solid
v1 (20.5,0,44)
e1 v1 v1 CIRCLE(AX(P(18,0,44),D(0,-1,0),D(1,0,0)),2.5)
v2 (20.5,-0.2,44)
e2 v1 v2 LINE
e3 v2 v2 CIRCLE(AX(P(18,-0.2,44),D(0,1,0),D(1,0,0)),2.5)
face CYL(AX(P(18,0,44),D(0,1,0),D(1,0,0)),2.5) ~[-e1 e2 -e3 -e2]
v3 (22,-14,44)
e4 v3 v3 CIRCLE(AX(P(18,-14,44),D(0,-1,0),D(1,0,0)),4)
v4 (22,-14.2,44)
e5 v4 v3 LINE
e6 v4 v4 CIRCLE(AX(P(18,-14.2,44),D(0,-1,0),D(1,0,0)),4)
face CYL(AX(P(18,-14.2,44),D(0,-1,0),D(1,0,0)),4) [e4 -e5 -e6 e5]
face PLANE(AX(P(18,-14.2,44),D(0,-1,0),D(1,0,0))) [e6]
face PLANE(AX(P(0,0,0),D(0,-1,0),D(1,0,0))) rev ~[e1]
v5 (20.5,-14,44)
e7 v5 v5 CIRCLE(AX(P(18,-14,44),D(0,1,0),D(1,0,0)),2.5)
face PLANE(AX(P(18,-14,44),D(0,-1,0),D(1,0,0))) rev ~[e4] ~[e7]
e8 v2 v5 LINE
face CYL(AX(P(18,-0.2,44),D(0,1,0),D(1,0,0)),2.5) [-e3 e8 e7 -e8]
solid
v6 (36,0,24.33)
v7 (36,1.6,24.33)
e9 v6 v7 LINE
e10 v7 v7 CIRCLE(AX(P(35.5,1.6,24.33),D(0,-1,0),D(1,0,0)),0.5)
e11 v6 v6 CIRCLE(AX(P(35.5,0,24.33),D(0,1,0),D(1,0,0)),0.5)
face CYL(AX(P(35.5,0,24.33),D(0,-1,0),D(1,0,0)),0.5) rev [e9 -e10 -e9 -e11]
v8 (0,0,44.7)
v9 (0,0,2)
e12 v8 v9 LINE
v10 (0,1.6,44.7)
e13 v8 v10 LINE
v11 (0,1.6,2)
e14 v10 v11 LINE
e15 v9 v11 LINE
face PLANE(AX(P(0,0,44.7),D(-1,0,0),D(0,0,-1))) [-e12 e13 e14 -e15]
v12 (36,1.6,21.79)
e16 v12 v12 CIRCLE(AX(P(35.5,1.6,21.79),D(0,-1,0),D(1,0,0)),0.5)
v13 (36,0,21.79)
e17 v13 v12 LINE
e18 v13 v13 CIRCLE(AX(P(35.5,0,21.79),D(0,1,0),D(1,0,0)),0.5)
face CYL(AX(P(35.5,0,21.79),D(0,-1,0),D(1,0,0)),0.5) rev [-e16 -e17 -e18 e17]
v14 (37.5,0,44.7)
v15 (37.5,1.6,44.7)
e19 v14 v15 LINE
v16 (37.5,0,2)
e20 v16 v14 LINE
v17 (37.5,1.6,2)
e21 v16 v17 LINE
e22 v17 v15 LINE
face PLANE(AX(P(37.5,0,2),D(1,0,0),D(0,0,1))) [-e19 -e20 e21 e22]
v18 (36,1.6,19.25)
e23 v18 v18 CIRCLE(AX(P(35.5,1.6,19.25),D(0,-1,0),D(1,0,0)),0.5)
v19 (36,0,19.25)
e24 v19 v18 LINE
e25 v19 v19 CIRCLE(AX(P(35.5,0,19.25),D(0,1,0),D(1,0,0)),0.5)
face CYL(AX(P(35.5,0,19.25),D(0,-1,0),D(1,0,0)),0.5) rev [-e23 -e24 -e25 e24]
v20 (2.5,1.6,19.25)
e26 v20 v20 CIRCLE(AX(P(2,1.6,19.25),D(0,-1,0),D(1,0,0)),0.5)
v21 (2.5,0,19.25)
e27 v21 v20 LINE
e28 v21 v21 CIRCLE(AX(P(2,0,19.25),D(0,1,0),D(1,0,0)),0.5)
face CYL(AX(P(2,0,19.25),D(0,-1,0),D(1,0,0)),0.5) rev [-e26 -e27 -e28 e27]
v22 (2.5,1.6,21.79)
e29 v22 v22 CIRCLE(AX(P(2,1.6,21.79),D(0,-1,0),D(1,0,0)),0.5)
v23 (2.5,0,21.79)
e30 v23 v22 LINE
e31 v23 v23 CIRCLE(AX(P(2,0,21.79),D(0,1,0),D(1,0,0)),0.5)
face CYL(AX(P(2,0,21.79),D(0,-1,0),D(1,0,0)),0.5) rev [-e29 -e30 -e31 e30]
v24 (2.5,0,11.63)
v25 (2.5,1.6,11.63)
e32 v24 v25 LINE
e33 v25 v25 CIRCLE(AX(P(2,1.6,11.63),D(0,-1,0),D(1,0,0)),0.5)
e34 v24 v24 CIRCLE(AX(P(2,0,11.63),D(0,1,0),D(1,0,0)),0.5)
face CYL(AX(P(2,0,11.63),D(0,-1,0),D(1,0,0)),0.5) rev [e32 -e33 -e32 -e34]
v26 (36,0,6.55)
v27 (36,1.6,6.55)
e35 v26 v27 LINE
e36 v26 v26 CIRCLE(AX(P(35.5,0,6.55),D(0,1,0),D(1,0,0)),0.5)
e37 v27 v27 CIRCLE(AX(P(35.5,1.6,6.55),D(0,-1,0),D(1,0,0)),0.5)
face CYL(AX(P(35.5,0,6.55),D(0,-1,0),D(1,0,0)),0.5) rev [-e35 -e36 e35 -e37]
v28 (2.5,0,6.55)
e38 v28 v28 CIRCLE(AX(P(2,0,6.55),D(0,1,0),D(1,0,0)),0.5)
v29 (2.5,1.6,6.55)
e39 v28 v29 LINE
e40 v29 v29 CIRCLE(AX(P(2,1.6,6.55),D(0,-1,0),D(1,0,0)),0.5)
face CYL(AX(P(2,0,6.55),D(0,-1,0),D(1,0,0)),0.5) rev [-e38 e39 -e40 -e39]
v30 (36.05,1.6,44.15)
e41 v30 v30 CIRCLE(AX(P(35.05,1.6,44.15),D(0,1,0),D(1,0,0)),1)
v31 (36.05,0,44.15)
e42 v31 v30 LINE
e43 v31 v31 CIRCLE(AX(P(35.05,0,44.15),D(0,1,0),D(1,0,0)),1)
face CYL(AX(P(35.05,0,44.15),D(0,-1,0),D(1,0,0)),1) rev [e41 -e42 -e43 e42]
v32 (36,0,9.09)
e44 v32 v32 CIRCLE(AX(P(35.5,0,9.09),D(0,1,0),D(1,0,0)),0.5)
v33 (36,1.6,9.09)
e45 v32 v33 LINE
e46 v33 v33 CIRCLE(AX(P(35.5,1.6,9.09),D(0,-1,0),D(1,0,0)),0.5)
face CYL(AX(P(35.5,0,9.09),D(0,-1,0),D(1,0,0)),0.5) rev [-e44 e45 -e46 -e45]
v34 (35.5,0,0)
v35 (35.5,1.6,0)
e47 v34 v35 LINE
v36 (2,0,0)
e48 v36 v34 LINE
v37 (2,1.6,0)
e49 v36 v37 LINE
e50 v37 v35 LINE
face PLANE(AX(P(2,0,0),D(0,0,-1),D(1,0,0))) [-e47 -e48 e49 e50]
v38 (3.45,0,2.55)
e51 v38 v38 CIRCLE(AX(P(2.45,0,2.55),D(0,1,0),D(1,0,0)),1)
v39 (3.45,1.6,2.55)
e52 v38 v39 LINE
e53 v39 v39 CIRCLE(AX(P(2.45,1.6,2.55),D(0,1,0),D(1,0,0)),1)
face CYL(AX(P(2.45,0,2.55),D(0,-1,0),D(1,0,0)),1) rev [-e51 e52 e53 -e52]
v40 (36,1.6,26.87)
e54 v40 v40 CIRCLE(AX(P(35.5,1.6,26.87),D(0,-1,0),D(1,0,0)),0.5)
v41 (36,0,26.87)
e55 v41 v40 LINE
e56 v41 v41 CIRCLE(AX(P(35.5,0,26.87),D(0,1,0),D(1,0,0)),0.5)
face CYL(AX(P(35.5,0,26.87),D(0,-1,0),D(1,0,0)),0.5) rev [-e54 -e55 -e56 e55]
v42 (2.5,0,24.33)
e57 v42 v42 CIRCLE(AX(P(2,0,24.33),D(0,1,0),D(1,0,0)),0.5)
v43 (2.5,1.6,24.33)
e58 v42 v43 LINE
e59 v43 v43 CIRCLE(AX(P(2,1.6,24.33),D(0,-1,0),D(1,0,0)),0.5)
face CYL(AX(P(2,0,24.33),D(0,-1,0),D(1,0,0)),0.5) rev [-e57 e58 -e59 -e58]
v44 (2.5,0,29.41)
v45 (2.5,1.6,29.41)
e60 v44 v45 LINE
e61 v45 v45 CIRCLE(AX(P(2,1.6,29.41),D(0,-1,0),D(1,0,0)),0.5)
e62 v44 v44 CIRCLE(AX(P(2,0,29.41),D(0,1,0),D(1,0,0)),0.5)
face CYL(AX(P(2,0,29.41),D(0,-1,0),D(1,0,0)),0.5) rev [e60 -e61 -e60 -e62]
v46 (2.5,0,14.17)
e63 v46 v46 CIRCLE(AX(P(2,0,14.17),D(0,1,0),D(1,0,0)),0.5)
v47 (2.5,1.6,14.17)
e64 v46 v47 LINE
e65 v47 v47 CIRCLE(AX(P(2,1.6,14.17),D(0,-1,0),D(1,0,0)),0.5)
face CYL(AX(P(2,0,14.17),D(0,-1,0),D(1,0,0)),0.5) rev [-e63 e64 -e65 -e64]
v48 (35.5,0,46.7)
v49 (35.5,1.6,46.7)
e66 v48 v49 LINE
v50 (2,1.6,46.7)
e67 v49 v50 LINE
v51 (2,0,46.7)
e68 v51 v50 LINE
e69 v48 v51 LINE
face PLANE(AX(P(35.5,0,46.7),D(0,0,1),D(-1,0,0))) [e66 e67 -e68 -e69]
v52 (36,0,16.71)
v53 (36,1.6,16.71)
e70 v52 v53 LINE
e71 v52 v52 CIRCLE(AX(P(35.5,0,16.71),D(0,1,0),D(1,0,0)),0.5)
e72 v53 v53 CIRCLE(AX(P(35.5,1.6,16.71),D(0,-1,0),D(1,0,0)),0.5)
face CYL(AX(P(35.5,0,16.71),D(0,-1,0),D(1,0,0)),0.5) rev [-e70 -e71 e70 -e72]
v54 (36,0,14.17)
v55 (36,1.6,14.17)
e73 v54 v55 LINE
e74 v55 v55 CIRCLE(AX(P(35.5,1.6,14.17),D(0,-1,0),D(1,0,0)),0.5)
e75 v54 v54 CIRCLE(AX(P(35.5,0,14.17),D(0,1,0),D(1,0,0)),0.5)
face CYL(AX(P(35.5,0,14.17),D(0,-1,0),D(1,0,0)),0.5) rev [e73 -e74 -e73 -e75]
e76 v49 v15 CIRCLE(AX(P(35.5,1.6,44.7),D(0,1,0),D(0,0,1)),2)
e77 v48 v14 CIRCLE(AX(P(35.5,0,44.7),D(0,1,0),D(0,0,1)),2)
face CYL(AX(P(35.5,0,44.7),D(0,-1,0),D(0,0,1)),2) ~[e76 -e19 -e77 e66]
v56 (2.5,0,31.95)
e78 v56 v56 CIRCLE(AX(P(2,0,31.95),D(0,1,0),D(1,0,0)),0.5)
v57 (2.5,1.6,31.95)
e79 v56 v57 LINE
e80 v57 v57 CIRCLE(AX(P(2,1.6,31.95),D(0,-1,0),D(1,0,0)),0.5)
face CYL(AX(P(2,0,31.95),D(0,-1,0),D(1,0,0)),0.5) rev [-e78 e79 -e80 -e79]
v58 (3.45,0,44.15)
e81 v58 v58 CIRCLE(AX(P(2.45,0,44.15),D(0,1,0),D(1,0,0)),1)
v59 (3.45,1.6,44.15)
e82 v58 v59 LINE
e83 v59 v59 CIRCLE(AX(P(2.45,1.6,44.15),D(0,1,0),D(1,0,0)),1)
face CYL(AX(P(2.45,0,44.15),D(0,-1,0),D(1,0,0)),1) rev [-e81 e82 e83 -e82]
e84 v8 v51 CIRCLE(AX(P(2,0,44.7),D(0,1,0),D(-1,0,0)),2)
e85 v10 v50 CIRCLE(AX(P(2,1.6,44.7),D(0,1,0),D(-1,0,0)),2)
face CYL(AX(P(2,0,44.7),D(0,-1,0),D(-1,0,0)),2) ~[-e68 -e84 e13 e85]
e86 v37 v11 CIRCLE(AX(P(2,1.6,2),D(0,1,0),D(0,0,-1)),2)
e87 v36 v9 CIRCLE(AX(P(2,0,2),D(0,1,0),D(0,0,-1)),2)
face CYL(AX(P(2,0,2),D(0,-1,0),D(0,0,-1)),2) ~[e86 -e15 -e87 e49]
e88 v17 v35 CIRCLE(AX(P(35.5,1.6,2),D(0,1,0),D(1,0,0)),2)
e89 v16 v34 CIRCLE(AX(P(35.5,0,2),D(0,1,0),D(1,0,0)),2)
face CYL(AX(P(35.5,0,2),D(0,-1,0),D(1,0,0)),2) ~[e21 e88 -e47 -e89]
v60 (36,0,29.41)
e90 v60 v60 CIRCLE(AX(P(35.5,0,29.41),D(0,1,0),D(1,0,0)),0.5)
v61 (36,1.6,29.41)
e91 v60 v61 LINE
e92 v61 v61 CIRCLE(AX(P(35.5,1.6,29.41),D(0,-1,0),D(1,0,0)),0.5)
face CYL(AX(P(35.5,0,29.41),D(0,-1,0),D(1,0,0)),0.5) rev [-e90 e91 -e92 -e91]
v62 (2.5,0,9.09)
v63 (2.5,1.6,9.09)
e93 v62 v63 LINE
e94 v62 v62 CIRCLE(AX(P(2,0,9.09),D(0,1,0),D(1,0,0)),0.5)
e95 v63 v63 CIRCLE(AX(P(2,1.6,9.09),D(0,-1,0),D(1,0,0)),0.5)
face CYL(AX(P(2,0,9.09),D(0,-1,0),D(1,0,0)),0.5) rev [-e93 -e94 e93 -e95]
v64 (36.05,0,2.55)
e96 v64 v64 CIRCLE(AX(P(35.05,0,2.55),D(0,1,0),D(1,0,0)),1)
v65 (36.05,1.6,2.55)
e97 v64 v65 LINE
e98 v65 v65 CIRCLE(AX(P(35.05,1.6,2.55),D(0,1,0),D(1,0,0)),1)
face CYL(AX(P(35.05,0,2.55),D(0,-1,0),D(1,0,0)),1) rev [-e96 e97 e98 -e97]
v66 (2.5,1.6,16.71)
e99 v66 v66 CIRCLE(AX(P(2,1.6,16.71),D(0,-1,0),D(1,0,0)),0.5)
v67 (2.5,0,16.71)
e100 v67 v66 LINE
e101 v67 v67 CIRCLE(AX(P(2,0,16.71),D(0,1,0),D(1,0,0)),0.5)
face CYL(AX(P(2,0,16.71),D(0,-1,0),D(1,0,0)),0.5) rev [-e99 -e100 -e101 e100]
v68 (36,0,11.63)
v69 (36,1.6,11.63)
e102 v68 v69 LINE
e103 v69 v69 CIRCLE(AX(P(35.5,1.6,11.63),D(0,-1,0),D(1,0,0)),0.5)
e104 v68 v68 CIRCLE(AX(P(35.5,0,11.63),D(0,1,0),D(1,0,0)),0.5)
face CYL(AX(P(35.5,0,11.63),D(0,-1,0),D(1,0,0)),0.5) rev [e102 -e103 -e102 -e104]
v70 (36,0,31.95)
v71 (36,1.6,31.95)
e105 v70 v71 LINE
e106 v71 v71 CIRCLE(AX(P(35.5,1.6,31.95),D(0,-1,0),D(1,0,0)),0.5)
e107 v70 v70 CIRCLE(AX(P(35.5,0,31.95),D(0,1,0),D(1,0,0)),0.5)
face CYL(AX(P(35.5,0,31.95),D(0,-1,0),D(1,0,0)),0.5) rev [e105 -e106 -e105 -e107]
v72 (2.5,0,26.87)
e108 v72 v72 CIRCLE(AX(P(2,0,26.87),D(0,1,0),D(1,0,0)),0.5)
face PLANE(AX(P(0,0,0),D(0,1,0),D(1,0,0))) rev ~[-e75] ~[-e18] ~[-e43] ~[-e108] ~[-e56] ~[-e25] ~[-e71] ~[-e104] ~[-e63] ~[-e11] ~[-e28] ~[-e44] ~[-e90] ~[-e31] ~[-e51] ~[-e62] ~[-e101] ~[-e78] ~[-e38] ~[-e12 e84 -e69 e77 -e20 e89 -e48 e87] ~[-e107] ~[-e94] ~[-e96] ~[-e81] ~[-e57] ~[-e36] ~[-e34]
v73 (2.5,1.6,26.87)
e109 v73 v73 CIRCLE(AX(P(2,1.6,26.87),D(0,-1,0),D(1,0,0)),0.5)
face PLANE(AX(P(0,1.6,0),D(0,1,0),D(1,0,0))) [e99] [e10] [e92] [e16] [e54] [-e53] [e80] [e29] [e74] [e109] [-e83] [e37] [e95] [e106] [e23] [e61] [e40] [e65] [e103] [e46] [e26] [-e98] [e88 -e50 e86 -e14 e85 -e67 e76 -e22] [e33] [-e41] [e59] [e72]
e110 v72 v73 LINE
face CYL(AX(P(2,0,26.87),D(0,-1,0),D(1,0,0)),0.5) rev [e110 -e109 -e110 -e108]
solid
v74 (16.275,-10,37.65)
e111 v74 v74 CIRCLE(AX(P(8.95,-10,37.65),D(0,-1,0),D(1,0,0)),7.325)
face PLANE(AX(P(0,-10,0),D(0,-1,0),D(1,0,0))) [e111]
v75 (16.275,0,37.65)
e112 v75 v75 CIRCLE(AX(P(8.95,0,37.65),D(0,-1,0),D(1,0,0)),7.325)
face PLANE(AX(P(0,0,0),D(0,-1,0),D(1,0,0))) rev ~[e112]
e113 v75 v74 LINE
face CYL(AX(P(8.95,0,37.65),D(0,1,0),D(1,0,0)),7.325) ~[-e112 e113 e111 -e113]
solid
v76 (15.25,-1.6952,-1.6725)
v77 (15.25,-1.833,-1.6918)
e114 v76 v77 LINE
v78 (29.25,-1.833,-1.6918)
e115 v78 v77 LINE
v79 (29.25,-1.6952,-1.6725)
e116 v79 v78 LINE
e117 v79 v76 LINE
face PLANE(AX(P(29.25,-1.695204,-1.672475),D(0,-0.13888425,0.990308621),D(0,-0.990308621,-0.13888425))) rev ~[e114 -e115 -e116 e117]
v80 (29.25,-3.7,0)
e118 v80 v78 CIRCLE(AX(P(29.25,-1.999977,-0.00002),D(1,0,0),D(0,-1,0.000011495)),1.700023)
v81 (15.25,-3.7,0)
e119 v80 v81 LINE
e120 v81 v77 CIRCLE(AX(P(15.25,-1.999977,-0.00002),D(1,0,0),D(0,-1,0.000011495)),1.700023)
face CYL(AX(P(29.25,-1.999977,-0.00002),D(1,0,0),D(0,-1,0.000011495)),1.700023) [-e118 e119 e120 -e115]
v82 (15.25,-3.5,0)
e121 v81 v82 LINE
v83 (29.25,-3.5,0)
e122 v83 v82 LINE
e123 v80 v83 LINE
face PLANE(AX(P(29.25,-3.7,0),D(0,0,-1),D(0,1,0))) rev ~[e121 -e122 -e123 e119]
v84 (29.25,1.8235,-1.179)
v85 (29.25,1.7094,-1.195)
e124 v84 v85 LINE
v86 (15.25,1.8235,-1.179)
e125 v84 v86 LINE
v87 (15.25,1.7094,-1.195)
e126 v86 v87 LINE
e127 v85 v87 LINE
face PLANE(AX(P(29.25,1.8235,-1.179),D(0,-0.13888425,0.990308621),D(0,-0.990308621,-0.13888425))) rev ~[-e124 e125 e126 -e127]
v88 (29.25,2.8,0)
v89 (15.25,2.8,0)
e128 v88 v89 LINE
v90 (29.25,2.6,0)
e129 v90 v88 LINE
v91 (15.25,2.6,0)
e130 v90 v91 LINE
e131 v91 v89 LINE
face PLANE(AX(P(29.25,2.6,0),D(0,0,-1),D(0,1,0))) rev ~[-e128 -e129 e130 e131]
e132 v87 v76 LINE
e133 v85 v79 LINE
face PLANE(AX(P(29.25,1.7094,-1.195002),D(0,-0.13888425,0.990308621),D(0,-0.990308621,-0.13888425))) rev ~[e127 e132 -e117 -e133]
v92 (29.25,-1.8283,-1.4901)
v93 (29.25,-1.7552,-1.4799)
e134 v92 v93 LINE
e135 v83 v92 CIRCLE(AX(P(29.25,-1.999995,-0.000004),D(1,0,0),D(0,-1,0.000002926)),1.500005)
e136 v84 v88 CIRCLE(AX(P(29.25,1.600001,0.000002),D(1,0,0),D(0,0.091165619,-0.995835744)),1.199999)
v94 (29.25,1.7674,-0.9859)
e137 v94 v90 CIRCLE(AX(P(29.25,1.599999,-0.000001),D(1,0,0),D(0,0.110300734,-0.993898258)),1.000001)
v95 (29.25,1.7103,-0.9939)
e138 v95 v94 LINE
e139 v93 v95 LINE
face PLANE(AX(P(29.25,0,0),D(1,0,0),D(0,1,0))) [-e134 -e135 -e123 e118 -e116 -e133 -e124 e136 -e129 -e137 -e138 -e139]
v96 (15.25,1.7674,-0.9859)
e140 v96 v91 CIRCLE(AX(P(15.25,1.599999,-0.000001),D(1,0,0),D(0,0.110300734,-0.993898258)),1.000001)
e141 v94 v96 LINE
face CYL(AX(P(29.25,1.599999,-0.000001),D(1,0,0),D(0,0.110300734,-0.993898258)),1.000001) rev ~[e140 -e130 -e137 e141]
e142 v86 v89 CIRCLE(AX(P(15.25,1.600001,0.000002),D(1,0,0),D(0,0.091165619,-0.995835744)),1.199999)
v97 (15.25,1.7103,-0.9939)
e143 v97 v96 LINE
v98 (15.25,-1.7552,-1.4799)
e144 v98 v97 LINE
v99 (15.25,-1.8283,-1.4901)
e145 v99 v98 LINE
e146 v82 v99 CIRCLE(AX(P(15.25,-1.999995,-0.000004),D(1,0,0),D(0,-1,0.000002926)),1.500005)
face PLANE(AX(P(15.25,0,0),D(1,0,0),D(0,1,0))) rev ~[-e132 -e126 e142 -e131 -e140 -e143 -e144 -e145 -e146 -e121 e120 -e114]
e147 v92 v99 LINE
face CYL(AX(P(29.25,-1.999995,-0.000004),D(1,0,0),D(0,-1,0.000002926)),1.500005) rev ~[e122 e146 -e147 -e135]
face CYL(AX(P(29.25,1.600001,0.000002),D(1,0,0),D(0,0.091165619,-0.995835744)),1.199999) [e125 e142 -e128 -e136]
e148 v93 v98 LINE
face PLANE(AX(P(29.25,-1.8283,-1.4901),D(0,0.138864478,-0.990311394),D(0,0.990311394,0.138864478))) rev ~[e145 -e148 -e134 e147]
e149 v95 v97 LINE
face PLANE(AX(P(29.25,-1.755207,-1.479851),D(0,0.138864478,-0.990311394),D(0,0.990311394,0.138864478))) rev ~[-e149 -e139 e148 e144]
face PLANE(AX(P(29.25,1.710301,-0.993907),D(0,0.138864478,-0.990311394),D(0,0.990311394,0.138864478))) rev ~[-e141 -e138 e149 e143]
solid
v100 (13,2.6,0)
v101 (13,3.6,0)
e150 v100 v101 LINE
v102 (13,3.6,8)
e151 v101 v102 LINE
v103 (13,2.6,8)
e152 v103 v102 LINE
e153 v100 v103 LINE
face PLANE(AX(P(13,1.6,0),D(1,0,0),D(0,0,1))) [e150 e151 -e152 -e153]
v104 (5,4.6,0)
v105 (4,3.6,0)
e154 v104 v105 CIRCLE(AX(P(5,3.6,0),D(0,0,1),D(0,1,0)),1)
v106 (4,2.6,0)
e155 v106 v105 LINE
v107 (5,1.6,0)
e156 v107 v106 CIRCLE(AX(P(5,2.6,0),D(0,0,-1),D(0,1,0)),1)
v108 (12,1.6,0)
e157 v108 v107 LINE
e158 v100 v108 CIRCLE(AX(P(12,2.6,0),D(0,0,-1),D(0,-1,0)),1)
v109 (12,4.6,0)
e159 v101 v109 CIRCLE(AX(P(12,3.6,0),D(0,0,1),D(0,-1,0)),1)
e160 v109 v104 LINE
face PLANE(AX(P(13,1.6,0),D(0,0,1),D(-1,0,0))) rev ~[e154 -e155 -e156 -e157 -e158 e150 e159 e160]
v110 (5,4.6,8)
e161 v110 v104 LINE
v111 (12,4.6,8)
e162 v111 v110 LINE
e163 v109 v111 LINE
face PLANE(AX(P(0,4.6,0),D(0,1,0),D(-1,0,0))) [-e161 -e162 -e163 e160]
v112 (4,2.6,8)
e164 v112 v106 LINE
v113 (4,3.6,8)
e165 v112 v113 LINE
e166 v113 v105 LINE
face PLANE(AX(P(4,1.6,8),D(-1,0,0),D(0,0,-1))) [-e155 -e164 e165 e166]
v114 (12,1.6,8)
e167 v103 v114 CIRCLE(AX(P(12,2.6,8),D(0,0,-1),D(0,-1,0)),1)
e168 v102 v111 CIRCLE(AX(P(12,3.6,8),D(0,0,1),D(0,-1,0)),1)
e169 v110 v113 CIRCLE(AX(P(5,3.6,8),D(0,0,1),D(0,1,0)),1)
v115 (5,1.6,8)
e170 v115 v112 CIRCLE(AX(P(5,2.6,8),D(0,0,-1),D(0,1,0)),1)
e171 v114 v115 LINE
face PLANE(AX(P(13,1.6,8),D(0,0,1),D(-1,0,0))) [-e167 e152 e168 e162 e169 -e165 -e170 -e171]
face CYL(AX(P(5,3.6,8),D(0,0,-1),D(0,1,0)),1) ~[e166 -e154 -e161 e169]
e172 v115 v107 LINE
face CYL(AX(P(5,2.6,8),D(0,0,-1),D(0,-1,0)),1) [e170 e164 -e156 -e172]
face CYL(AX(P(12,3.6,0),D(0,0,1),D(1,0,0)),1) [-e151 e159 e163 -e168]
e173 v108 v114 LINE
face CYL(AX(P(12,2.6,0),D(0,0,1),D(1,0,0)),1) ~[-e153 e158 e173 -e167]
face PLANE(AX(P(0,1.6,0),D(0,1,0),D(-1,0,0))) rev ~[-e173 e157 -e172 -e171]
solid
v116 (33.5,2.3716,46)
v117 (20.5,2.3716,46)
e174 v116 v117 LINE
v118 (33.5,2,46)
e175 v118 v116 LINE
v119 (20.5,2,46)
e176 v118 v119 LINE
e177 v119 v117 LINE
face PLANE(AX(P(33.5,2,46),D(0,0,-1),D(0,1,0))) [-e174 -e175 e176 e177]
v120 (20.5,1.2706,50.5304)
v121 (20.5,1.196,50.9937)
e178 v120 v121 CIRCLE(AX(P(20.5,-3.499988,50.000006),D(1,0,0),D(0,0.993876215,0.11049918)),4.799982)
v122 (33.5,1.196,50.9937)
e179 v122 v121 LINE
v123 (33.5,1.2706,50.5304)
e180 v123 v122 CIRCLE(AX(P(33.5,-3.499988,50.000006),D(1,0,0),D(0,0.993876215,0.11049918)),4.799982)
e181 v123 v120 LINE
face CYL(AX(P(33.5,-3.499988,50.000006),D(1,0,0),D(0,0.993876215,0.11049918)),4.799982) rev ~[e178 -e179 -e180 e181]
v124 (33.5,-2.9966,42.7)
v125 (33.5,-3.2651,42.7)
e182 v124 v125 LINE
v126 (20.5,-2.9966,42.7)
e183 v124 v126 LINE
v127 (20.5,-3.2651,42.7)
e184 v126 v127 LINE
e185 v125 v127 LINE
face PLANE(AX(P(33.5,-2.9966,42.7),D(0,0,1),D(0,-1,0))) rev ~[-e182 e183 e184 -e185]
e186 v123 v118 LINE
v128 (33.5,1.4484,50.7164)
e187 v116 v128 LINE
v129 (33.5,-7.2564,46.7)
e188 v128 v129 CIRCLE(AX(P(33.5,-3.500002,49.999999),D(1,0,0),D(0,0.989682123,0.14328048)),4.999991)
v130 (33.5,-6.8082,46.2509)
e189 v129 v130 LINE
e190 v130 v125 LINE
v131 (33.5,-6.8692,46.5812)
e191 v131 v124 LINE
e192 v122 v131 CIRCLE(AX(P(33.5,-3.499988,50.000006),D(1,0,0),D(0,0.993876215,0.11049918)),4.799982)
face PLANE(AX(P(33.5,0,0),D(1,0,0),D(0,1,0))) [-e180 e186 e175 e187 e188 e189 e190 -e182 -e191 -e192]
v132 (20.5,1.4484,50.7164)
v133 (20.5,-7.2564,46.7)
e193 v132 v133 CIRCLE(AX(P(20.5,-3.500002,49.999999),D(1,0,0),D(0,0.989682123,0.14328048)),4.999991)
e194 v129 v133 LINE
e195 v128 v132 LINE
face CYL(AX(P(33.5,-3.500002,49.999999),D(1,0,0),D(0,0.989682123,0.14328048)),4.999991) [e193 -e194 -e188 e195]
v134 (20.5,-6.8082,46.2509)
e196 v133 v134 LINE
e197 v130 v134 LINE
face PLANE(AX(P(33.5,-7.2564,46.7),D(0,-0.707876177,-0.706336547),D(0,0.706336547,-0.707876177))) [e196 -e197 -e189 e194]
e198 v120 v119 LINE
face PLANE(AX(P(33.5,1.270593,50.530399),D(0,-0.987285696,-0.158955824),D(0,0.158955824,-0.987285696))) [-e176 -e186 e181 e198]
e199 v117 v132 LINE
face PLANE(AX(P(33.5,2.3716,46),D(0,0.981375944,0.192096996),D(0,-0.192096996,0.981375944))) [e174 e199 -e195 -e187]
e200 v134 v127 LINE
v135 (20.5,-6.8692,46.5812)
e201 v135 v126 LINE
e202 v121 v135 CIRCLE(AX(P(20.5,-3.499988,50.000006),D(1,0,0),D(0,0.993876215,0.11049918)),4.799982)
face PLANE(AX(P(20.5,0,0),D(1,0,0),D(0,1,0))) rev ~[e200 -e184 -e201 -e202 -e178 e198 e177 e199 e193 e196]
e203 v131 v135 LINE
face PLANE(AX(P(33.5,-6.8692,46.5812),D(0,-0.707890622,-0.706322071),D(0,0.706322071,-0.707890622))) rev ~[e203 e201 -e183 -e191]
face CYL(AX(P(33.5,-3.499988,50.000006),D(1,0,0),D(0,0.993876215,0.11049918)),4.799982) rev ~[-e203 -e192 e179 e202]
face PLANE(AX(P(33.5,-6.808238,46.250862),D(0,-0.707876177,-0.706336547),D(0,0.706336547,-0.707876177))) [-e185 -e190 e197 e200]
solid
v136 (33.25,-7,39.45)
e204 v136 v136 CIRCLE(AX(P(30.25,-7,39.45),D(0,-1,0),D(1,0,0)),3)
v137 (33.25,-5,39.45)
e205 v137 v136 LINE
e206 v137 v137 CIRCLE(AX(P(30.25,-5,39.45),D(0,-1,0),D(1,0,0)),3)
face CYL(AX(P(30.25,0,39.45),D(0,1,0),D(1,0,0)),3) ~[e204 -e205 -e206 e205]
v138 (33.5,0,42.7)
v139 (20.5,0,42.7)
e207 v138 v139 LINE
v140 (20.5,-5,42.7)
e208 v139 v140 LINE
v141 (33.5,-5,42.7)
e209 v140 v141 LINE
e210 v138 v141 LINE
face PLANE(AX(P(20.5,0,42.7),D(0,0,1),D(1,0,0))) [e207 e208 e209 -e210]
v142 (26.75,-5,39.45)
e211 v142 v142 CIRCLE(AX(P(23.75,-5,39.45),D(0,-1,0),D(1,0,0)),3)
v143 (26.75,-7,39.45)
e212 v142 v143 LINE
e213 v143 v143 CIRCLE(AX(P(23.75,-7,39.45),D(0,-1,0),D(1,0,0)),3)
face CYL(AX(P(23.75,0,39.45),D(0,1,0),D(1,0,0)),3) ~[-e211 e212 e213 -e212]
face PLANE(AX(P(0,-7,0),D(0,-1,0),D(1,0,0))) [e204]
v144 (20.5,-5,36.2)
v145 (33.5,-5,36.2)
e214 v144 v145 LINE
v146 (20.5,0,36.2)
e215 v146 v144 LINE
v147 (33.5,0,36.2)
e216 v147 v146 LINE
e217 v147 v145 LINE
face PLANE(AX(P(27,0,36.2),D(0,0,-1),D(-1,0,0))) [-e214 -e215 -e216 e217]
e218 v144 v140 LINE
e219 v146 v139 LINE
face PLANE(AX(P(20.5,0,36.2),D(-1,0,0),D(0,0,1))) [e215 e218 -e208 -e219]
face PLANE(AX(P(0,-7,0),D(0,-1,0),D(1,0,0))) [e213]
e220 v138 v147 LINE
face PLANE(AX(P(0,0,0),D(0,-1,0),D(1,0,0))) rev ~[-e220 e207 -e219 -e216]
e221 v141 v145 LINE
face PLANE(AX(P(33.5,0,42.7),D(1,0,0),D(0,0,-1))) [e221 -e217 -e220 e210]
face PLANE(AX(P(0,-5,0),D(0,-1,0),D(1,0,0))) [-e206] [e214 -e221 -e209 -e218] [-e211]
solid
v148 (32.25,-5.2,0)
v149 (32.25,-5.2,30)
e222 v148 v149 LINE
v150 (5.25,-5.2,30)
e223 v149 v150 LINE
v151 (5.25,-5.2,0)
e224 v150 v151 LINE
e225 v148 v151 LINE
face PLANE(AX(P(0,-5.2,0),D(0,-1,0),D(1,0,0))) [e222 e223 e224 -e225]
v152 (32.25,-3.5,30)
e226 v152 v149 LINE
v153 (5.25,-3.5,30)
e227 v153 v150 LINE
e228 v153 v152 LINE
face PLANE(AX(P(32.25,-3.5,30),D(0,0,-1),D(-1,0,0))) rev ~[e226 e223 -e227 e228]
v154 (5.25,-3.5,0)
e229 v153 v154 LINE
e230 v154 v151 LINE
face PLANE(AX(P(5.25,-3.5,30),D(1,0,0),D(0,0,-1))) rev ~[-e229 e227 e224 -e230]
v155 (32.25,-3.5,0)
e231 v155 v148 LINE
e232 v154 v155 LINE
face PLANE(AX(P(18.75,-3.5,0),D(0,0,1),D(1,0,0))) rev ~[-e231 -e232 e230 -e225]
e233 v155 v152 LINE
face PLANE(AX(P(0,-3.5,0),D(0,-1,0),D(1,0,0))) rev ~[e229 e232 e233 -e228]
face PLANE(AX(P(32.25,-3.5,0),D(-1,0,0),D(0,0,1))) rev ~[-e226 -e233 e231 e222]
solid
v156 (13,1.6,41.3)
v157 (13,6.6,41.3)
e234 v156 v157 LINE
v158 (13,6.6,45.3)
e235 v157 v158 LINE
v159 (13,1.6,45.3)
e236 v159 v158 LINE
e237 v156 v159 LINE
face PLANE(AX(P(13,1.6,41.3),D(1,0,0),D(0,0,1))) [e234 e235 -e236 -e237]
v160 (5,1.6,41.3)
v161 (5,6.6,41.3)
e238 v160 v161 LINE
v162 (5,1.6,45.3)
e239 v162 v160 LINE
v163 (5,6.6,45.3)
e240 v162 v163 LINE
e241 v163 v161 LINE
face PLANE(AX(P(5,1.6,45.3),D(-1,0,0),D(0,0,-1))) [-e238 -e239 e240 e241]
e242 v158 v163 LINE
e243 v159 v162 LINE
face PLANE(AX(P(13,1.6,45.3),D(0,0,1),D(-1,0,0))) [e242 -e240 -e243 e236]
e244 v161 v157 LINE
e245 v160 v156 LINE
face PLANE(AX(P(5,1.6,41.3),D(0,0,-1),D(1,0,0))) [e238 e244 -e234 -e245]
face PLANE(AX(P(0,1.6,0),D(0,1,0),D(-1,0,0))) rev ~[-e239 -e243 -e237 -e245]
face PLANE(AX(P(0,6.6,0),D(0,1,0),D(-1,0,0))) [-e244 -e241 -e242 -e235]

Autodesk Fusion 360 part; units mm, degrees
sketch "スケッチ1" plane through (0, 0, 0) normal (0, 1, 0) x (1, 0, 0)
  line L0 (2, 0) -> (35.5, 0)
  line L1 (37.5, -2) -> (37.5, -44.7)
  line L2 (35.5, -46.7) -> (2, -46.7)
  line L3 (0, -44.7) -> (0, -2)
  arc A0 (0, -44.7) -> (2, -46.7) centre (2, -44.7) ccw
  arc A1 (35.5, -46.7) -> (37.5, -44.7) centre (35.5, -44.7) ccw
  arc A2 (37.5, -2) -> (35.5, 0) centre (35.5, -2) ccw
  arc A3 (2, 0) -> (0, -2) centre (2, -2) ccw
  circle A4 centre (2.45, -2.55) radius 1
  circle A5 centre (2.45, -44.15) radius 1
  circle A6 centre (35.05, -2.55) radius 1
  circle A7 centre (35.05, -44.15) radius 1
  line L4 (18.75, -46.7) -> (18.75, 0) construction
  line L5 (0, -23.35) -> (37.5, -23.35) construction
  circle A8 centre (2, -6.55) radius 1
  circle A9 centre (35.5, -6.55) radius 1
  circle A10 centre (2, -9.09) radius 1
  circle A11 centre (35.5, -9.09) radius 1
  circle A12 centre (2, -11.63) radius 1
  circle A13 centre (35.5, -11.63) radius 1
  circle A14 centre (2, -14.17) radius 1
  circle A15 centre (35.5, -14.17) radius 1
  circle A16 centre (2, -16.71) radius 1
  circle A17 centre (35.5, -16.71) radius 1
  circle A18 centre (2, -19.25) radius 1
  circle A19 centre (35.5, -19.25) radius 1
  circle A20 centre (2, -21.79) radius 1
  circle A21 centre (35.5, -21.79) radius 1
  circle A22 centre (2, -24.33) radius 1
  circle A23 centre (35.5, -24.33) radius 1
  circle A24 centre (2, -26.87) radius 1
  circle A25 centre (35.5, -26.87) radius 1
  circle A26 centre (2, -29.41) radius 1
  circle A27 centre (35.5, -29.41) radius 1
  circle A28 centre (2, -31.95) radius 1
  circle A29 centre (35.5, -31.95) radius 1
  circle A30 centre (2, -6.55) radius 0.5
  circle A31 centre (35.5, -6.55) radius 0.5
  circle A32 centre (2, -9.09) radius 0.5
  circle A33 centre (35.5, -9.09) radius 0.5
  circle A34 centre (2, -11.63) radius 0.5
  circle A35 centre (35.5, -11.63) radius 0.5
  circle A36 centre (2, -14.17) radius 0.5
  circle A37 centre (35.5, -14.17) radius 0.5
  circle A38 centre (2, -16.71) radius 0.5
  circle A39 centre (35.5, -16.71) radius 0.5
  circle A40 centre (2, -19.25) radius 0.5
  circle A41 centre (35.5, -19.25) radius 0.5
  circle A42 centre (2, -21.79) radius 0.5
  circle A43 centre (35.5, -21.79) radius 0.5
  circle A44 centre (2, -24.33) radius 0.5
  circle A45 centre (35.5, -24.33) radius 0.5
  circle A46 centre (2, -26.87) radius 0.5
  circle A47 centre (35.5, -26.87) radius 0.5
  circle A48 centre (2, -29.41) radius 0.5
  circle A49 centre (35.5, -29.41) radius 0.5
  circle A50 centre (2, -31.95) radius 0.5
  circle A51 centre (35.5, -31.95) radius 0.5
  point P0 (37.5, 0)
  point P1 (0, -46.7)
  dimension "d1" = 37.5
  dimension "d2" = 46.7
  dimension "d3" = 2
  dimension "d4" = 2
  dimension "d5" = 2
  dimension "d6" = 41.6
  dimension "d9" = 32.6
  dimension "d10" = 0
  dimension "d11" = 32.6
  dimension "d12" = 32.6
  dimension "d13" = 16.3
  dimension "d14" = 20.8
  dimension "d34" = 2
  dimension "d35" = 2
  dimension "d36" = 4
  dimension "d39" = 33.5
  dimension "d40" = -25.4
  dimension "d41" = 1
  dimension "d44" = 33.5
  dimension "d45" = -25.4
extrude "押し出し1" add sketch "スケッチ1" along normal blind 1.6 contours L0 L1 L2 L3 A0 A1 A2 A3 | A8 | A9 | A10 | A11 | A12 | A13 | A14 | A15 | A16 | A17 | A18 | A19 | A20 | A21 | A22 | A23 | A24 | A25 | A26 | A27 | A28 | A29 | A30 | A31 | A32 | A33 | A34 | A35 | A36 | A37 | A38 | A39 | A40 | A41 | A42 | A43 | A44 | A45 | A46 | A47 | A48 | A49 | A50 | A51 makes body 1
sketch "スケッチ2" plane through (0, 0, 0) normal (0, -1, 0) x (1, 0, 0)
  circle A0 centre (2.45, 44.15) radius 1
  circle A1 centre (35.05, 44.15) radius 1
  circle A2 centre (35.05, 2.55) radius 1
  circle A3 centre (2.45, 2.55) radius 1
  arc A4 (35.5, 0) -> (37.5, 2) centre (35.5, 2) ccw
  line L0 (37.5, 2) -> (37.5, 44.7)
  arc A5 (37.5, 44.7) -> (35.5, 46.7) centre (35.5, 44.7) ccw
  line L1 (35.5, 46.7) -> (2, 46.7)
  arc A6 (2, 46.7) -> (0, 44.7) centre (2, 44.7) ccw
  line L2 (0, 44.7) -> (0, 2)
  arc A7 (0, 2) -> (2, 0) centre (2, 2) ccw
  line L3 (2, 0) -> (35.5, 0)
  circle A8 centre (8.95, 37.65) radius 7.325
  line L4 (5.25, 0) -> (32.25, 0)
  line L5 (32.25, 0) -> (32.25, 30)
  line L6 (32.25, 30) -> (5.25, 30)
  line L7 (5.25, 30) -> (5.25, 0)
  line L8 (18.75, 46.7) -> (18.75, 0)
  line L9 (20.5, 42.7) -> (33.5, 42.7)
  line L10 (33.5, 42.7) -> (33.5, 36.2)
  line L11 (33.5, 36.2) -> (20.5, 36.2)
  line L12 (20.5, 36.2) -> (20.5, 42.7)
  line L13 (37.5, 2) -> (37.5, 44.7)
  line L14 (35.5, 46.7) -> (2, 46.7)
  line L15 (27, 36.2) -> (27, 42.7)
  line L16 (27, 36.2) -> (33.5, 36.2)
  line L17 (33.5, 36.2) -> (33.5, 42.7)
  line L18 (33.5, 42.7) -> (27, 42.7)
  line L19 (27, 42.7) -> (27, 36.2)
  line L20 (27, 42.7) -> (20.5, 42.7)
  line L21 (20.5, 42.7) -> (20.5, 36.2)
  line L22 (20.5, 36.2) -> (27, 36.2)
  line L23 (27, 36.2) -> (27, 42.7)
  circle A9 centre (23.75, 39.45) radius 3
  circle A10 centre (30.25, 39.45) radius 3
  circle A11 centre (18, 44) radius 2.5
  point P0 (18.75, 30)
  dimension "d17" = 14.65
  dimension "d18" = 6.5
  dimension "d19" = 6.5
  dimension "d22" = 27
  dimension "d23" = 30
  dimension "d48" = 13
  dimension "d49" = 6.5
  dimension "d50" = 4
  dimension "d51" = 4
  dimension "d52" = 6
  dimension "d53" = 6
  dimension "d72" = 5
extrude "押し出し3" add sketch "スケッチ2" along normal blind 1.7 from surface at 3.5 separate body contours L3 L4 L5 L6 L8 | L3 L4 L6 L7 L8 makes body 2
extrude "押し出し2" add sketch "スケッチ2" along normal blind 10 separate body contours A8 makes body 3
sketch "スケッチ3" plane through (0, 1.6, 0) normal (0, 1, 0) x (-1, 0, 0)
  circle A0 centre (-2.45, 44.15) radius 1
  circle A1 centre (-35.05, 44.15) radius 1
  circle A2 centre (-35.05, 2.55) radius 1
  circle A3 centre (-2.45, 2.55) radius 1
  arc A4 (-37.5, 2) -> (-35.5, 0) centre (-35.5, 2) ccw
  line L0 (-35.5, 0) -> (-2, 0)
  arc A5 (-2, 0) -> (0, 2) centre (-2, 2) ccw
  line L1 (0, 2) -> (0, 44.7)
  arc A6 (0, 44.7) -> (-2, 46.7) centre (-2, 44.7) ccw
  line L2 (-2, 46.7) -> (-35.5, 46.7)
  arc A7 (-35.5, 46.7) -> (-37.5, 44.7) centre (-35.5, 44.7) ccw
  line L3 (-37.5, 44.7) -> (-37.5, 2)
  line L4 (-4, 0) -> (-13, 0)
  line L5 (-13, 0) -> (-13, 8)
  line L6 (-13, 8) -> (-4, 8)
  line L7 (-4, 8) -> (-4, 0)
  line L8 (0, 44.7) -> (0, 2)
  line L9 (-13, 45.3) -> (-5, 45.3)
  line L10 (-5, 45.3) -> (-5, 41.3)
  line L11 (-5, 41.3) -> (-13, 41.3)
  line L12 (-13, 41.3) -> (-13, 45.3)
  line L13 (-35.5, 46.7) -> (-2, 46.7)
  point P0 (-8.5, 8)
  dimension "d27" = 9
  dimension "d28" = 8
  dimension "d29" = 8.5
  dimension "d66" = 8
  dimension "d67" = 4
  dimension "d68" = 1.4
  dimension "d69" = 5
extrude "押し出し4" add sketch "スケッチ3" along normal blind 3 separate body contours L0 L4 L5 L6 L7 makes body 4
fillet "フィレット1" radius 1 1 edges at (13, 4.6, 4) on bodies 4
fillet "フィレット2" radius 1 3 edges at (4, 1.6, 4) (4, 4.6, 4) (13, 1.6, 4) on bodies 4
extrude "押し出し5" cut sketch "スケッチ1" along normal blind 11 contours A30 | A31 | A32 | A33 | A34 | A35 | A36 | A37 | A38 | A39 | A40 | A41 | A42 | A43 | A44 | A45 | A46 | A47 | A48 | A49 | A50 | A51 bodies 1
extrude "押し出し6" add sketch "スケッチ2" along normal blind 5 separate body contours L9 L11 L12 L15 L19 L20 L21 L22 L23 | L9 L10 L11 L15 L16 L17 L18 L19 L23 makes body 5
extrude "押し出し7" add sketch "スケッチ2" along normal blind 7 contours A9 | A10 bodies 5
sketch "スケッチ4" plane through (32.25, 0, 0) normal (1, 0, 0) x (0, 1, 0)
  line L0 (-3.5, 0) -> (-3.5, 30)
  line L1 (-3.5, 30) -> (-5.2, 30)
  line L2 (-5.2, 30) -> (-5.2, 0)
  line L3 (-5.2, 0) -> (-3.5, 0)
  line L4 (1.8235, -1.179) -> (-1.833, -1.6918)
  line L5 (-1.8283, -1.4901) -> (1.7674, -0.9859)
  line L6 (-3.5, 0) -> (-3.7, 0)
  line L7 (2.6, 0) -> (2.8, 0)
  arc A0 (1.7103, -0.9939) -> (2.6, 0) centre (1.6, 0) ccw
  arc A1 (1.7094, -1.195) -> (2.8, 0) centre (1.6, 0) ccw
  arc A2 (-3.7, 0) -> (-1.6952, -1.6725) centre (-2, 0) ccw
  arc A3 (-3.5, 0) -> (-1.7552, -1.4799) centre (-2, 0) ccw
extrude "押し出し8" add sketch "スケッチ4" against normal blind 14 from surface at -3 separate body contours L3 L4 L5 L6 L7 A0 A1 A2 A3 makes body 6
sketch "スケッチ5" plane through (33.5, 0, 0) normal (1, 0, 0) x (0, 1, 0)
  line L0 (0, 36.2) -> (0, 42.7)
  line L1 (0, 42.7) -> (-5, 42.7)
  line L2 (-5, 42.7) -> (-5, 36.2)
  line L3 (-5, 36.2) -> (0, 36.2)
  line L4 (-7.2564, 46.7) -> (-3.2651, 42.7)
  line L5 (-6.8692, 46.5812) -> (-2.9966, 42.7)
  line L6 (-3.2651, 42.7) -> (-2.9966, 42.7)
  line L7 (1.196, 50.9937) -> (2, 46)
  line L8 (2, 46) -> (2.3716, 46)
  line L9 (2.3716, 46) -> (1.4484, 50.7164)
  arc A0 (1.4484, 50.7164) -> (-6.8082, 46.2509) centre (-3.5, 50) ccw
  arc A1 (1.2706, 50.5304) -> (-6.8692, 46.5812) centre (-3.5, 50) ccw
extrude "押し出し9" add sketch "スケッチ5" against normal blind 13 separate body contours L1 L4 L5 L6 L7 L8 L9 A0 A1 makes body 7
extrude "押し出し10" add sketch "スケッチ3" along normal blind 5 separate body contours L9 L10 L11 L12 makes body 8
extrude "押し出し11" add sketch "スケッチ2" along normal blind 0.2 separate body contours L8 A11 | L8 A11 makes body 9
ref_plane "作業平面1" through (18, -14.2, 44) normal (0, -1, 0) x (1, 0, 0)
sketch "スケッチ6" plane through (18, -14.2, 44) normal (0, -1, 0) x (1, 0, 0)
  circle A0 centre (0, 0) radius 4
  dimension "d76" = 8
extrude "押し出し12" add sketch "スケッチ6" against normal blind 0.2 separate body makes body 10
extrude "押し出し13" add 1 faces at (18.7963, -0.2, 44.2456) along direction (0, -1, 0) blind 14 on bodies 9 bodies 9 10
